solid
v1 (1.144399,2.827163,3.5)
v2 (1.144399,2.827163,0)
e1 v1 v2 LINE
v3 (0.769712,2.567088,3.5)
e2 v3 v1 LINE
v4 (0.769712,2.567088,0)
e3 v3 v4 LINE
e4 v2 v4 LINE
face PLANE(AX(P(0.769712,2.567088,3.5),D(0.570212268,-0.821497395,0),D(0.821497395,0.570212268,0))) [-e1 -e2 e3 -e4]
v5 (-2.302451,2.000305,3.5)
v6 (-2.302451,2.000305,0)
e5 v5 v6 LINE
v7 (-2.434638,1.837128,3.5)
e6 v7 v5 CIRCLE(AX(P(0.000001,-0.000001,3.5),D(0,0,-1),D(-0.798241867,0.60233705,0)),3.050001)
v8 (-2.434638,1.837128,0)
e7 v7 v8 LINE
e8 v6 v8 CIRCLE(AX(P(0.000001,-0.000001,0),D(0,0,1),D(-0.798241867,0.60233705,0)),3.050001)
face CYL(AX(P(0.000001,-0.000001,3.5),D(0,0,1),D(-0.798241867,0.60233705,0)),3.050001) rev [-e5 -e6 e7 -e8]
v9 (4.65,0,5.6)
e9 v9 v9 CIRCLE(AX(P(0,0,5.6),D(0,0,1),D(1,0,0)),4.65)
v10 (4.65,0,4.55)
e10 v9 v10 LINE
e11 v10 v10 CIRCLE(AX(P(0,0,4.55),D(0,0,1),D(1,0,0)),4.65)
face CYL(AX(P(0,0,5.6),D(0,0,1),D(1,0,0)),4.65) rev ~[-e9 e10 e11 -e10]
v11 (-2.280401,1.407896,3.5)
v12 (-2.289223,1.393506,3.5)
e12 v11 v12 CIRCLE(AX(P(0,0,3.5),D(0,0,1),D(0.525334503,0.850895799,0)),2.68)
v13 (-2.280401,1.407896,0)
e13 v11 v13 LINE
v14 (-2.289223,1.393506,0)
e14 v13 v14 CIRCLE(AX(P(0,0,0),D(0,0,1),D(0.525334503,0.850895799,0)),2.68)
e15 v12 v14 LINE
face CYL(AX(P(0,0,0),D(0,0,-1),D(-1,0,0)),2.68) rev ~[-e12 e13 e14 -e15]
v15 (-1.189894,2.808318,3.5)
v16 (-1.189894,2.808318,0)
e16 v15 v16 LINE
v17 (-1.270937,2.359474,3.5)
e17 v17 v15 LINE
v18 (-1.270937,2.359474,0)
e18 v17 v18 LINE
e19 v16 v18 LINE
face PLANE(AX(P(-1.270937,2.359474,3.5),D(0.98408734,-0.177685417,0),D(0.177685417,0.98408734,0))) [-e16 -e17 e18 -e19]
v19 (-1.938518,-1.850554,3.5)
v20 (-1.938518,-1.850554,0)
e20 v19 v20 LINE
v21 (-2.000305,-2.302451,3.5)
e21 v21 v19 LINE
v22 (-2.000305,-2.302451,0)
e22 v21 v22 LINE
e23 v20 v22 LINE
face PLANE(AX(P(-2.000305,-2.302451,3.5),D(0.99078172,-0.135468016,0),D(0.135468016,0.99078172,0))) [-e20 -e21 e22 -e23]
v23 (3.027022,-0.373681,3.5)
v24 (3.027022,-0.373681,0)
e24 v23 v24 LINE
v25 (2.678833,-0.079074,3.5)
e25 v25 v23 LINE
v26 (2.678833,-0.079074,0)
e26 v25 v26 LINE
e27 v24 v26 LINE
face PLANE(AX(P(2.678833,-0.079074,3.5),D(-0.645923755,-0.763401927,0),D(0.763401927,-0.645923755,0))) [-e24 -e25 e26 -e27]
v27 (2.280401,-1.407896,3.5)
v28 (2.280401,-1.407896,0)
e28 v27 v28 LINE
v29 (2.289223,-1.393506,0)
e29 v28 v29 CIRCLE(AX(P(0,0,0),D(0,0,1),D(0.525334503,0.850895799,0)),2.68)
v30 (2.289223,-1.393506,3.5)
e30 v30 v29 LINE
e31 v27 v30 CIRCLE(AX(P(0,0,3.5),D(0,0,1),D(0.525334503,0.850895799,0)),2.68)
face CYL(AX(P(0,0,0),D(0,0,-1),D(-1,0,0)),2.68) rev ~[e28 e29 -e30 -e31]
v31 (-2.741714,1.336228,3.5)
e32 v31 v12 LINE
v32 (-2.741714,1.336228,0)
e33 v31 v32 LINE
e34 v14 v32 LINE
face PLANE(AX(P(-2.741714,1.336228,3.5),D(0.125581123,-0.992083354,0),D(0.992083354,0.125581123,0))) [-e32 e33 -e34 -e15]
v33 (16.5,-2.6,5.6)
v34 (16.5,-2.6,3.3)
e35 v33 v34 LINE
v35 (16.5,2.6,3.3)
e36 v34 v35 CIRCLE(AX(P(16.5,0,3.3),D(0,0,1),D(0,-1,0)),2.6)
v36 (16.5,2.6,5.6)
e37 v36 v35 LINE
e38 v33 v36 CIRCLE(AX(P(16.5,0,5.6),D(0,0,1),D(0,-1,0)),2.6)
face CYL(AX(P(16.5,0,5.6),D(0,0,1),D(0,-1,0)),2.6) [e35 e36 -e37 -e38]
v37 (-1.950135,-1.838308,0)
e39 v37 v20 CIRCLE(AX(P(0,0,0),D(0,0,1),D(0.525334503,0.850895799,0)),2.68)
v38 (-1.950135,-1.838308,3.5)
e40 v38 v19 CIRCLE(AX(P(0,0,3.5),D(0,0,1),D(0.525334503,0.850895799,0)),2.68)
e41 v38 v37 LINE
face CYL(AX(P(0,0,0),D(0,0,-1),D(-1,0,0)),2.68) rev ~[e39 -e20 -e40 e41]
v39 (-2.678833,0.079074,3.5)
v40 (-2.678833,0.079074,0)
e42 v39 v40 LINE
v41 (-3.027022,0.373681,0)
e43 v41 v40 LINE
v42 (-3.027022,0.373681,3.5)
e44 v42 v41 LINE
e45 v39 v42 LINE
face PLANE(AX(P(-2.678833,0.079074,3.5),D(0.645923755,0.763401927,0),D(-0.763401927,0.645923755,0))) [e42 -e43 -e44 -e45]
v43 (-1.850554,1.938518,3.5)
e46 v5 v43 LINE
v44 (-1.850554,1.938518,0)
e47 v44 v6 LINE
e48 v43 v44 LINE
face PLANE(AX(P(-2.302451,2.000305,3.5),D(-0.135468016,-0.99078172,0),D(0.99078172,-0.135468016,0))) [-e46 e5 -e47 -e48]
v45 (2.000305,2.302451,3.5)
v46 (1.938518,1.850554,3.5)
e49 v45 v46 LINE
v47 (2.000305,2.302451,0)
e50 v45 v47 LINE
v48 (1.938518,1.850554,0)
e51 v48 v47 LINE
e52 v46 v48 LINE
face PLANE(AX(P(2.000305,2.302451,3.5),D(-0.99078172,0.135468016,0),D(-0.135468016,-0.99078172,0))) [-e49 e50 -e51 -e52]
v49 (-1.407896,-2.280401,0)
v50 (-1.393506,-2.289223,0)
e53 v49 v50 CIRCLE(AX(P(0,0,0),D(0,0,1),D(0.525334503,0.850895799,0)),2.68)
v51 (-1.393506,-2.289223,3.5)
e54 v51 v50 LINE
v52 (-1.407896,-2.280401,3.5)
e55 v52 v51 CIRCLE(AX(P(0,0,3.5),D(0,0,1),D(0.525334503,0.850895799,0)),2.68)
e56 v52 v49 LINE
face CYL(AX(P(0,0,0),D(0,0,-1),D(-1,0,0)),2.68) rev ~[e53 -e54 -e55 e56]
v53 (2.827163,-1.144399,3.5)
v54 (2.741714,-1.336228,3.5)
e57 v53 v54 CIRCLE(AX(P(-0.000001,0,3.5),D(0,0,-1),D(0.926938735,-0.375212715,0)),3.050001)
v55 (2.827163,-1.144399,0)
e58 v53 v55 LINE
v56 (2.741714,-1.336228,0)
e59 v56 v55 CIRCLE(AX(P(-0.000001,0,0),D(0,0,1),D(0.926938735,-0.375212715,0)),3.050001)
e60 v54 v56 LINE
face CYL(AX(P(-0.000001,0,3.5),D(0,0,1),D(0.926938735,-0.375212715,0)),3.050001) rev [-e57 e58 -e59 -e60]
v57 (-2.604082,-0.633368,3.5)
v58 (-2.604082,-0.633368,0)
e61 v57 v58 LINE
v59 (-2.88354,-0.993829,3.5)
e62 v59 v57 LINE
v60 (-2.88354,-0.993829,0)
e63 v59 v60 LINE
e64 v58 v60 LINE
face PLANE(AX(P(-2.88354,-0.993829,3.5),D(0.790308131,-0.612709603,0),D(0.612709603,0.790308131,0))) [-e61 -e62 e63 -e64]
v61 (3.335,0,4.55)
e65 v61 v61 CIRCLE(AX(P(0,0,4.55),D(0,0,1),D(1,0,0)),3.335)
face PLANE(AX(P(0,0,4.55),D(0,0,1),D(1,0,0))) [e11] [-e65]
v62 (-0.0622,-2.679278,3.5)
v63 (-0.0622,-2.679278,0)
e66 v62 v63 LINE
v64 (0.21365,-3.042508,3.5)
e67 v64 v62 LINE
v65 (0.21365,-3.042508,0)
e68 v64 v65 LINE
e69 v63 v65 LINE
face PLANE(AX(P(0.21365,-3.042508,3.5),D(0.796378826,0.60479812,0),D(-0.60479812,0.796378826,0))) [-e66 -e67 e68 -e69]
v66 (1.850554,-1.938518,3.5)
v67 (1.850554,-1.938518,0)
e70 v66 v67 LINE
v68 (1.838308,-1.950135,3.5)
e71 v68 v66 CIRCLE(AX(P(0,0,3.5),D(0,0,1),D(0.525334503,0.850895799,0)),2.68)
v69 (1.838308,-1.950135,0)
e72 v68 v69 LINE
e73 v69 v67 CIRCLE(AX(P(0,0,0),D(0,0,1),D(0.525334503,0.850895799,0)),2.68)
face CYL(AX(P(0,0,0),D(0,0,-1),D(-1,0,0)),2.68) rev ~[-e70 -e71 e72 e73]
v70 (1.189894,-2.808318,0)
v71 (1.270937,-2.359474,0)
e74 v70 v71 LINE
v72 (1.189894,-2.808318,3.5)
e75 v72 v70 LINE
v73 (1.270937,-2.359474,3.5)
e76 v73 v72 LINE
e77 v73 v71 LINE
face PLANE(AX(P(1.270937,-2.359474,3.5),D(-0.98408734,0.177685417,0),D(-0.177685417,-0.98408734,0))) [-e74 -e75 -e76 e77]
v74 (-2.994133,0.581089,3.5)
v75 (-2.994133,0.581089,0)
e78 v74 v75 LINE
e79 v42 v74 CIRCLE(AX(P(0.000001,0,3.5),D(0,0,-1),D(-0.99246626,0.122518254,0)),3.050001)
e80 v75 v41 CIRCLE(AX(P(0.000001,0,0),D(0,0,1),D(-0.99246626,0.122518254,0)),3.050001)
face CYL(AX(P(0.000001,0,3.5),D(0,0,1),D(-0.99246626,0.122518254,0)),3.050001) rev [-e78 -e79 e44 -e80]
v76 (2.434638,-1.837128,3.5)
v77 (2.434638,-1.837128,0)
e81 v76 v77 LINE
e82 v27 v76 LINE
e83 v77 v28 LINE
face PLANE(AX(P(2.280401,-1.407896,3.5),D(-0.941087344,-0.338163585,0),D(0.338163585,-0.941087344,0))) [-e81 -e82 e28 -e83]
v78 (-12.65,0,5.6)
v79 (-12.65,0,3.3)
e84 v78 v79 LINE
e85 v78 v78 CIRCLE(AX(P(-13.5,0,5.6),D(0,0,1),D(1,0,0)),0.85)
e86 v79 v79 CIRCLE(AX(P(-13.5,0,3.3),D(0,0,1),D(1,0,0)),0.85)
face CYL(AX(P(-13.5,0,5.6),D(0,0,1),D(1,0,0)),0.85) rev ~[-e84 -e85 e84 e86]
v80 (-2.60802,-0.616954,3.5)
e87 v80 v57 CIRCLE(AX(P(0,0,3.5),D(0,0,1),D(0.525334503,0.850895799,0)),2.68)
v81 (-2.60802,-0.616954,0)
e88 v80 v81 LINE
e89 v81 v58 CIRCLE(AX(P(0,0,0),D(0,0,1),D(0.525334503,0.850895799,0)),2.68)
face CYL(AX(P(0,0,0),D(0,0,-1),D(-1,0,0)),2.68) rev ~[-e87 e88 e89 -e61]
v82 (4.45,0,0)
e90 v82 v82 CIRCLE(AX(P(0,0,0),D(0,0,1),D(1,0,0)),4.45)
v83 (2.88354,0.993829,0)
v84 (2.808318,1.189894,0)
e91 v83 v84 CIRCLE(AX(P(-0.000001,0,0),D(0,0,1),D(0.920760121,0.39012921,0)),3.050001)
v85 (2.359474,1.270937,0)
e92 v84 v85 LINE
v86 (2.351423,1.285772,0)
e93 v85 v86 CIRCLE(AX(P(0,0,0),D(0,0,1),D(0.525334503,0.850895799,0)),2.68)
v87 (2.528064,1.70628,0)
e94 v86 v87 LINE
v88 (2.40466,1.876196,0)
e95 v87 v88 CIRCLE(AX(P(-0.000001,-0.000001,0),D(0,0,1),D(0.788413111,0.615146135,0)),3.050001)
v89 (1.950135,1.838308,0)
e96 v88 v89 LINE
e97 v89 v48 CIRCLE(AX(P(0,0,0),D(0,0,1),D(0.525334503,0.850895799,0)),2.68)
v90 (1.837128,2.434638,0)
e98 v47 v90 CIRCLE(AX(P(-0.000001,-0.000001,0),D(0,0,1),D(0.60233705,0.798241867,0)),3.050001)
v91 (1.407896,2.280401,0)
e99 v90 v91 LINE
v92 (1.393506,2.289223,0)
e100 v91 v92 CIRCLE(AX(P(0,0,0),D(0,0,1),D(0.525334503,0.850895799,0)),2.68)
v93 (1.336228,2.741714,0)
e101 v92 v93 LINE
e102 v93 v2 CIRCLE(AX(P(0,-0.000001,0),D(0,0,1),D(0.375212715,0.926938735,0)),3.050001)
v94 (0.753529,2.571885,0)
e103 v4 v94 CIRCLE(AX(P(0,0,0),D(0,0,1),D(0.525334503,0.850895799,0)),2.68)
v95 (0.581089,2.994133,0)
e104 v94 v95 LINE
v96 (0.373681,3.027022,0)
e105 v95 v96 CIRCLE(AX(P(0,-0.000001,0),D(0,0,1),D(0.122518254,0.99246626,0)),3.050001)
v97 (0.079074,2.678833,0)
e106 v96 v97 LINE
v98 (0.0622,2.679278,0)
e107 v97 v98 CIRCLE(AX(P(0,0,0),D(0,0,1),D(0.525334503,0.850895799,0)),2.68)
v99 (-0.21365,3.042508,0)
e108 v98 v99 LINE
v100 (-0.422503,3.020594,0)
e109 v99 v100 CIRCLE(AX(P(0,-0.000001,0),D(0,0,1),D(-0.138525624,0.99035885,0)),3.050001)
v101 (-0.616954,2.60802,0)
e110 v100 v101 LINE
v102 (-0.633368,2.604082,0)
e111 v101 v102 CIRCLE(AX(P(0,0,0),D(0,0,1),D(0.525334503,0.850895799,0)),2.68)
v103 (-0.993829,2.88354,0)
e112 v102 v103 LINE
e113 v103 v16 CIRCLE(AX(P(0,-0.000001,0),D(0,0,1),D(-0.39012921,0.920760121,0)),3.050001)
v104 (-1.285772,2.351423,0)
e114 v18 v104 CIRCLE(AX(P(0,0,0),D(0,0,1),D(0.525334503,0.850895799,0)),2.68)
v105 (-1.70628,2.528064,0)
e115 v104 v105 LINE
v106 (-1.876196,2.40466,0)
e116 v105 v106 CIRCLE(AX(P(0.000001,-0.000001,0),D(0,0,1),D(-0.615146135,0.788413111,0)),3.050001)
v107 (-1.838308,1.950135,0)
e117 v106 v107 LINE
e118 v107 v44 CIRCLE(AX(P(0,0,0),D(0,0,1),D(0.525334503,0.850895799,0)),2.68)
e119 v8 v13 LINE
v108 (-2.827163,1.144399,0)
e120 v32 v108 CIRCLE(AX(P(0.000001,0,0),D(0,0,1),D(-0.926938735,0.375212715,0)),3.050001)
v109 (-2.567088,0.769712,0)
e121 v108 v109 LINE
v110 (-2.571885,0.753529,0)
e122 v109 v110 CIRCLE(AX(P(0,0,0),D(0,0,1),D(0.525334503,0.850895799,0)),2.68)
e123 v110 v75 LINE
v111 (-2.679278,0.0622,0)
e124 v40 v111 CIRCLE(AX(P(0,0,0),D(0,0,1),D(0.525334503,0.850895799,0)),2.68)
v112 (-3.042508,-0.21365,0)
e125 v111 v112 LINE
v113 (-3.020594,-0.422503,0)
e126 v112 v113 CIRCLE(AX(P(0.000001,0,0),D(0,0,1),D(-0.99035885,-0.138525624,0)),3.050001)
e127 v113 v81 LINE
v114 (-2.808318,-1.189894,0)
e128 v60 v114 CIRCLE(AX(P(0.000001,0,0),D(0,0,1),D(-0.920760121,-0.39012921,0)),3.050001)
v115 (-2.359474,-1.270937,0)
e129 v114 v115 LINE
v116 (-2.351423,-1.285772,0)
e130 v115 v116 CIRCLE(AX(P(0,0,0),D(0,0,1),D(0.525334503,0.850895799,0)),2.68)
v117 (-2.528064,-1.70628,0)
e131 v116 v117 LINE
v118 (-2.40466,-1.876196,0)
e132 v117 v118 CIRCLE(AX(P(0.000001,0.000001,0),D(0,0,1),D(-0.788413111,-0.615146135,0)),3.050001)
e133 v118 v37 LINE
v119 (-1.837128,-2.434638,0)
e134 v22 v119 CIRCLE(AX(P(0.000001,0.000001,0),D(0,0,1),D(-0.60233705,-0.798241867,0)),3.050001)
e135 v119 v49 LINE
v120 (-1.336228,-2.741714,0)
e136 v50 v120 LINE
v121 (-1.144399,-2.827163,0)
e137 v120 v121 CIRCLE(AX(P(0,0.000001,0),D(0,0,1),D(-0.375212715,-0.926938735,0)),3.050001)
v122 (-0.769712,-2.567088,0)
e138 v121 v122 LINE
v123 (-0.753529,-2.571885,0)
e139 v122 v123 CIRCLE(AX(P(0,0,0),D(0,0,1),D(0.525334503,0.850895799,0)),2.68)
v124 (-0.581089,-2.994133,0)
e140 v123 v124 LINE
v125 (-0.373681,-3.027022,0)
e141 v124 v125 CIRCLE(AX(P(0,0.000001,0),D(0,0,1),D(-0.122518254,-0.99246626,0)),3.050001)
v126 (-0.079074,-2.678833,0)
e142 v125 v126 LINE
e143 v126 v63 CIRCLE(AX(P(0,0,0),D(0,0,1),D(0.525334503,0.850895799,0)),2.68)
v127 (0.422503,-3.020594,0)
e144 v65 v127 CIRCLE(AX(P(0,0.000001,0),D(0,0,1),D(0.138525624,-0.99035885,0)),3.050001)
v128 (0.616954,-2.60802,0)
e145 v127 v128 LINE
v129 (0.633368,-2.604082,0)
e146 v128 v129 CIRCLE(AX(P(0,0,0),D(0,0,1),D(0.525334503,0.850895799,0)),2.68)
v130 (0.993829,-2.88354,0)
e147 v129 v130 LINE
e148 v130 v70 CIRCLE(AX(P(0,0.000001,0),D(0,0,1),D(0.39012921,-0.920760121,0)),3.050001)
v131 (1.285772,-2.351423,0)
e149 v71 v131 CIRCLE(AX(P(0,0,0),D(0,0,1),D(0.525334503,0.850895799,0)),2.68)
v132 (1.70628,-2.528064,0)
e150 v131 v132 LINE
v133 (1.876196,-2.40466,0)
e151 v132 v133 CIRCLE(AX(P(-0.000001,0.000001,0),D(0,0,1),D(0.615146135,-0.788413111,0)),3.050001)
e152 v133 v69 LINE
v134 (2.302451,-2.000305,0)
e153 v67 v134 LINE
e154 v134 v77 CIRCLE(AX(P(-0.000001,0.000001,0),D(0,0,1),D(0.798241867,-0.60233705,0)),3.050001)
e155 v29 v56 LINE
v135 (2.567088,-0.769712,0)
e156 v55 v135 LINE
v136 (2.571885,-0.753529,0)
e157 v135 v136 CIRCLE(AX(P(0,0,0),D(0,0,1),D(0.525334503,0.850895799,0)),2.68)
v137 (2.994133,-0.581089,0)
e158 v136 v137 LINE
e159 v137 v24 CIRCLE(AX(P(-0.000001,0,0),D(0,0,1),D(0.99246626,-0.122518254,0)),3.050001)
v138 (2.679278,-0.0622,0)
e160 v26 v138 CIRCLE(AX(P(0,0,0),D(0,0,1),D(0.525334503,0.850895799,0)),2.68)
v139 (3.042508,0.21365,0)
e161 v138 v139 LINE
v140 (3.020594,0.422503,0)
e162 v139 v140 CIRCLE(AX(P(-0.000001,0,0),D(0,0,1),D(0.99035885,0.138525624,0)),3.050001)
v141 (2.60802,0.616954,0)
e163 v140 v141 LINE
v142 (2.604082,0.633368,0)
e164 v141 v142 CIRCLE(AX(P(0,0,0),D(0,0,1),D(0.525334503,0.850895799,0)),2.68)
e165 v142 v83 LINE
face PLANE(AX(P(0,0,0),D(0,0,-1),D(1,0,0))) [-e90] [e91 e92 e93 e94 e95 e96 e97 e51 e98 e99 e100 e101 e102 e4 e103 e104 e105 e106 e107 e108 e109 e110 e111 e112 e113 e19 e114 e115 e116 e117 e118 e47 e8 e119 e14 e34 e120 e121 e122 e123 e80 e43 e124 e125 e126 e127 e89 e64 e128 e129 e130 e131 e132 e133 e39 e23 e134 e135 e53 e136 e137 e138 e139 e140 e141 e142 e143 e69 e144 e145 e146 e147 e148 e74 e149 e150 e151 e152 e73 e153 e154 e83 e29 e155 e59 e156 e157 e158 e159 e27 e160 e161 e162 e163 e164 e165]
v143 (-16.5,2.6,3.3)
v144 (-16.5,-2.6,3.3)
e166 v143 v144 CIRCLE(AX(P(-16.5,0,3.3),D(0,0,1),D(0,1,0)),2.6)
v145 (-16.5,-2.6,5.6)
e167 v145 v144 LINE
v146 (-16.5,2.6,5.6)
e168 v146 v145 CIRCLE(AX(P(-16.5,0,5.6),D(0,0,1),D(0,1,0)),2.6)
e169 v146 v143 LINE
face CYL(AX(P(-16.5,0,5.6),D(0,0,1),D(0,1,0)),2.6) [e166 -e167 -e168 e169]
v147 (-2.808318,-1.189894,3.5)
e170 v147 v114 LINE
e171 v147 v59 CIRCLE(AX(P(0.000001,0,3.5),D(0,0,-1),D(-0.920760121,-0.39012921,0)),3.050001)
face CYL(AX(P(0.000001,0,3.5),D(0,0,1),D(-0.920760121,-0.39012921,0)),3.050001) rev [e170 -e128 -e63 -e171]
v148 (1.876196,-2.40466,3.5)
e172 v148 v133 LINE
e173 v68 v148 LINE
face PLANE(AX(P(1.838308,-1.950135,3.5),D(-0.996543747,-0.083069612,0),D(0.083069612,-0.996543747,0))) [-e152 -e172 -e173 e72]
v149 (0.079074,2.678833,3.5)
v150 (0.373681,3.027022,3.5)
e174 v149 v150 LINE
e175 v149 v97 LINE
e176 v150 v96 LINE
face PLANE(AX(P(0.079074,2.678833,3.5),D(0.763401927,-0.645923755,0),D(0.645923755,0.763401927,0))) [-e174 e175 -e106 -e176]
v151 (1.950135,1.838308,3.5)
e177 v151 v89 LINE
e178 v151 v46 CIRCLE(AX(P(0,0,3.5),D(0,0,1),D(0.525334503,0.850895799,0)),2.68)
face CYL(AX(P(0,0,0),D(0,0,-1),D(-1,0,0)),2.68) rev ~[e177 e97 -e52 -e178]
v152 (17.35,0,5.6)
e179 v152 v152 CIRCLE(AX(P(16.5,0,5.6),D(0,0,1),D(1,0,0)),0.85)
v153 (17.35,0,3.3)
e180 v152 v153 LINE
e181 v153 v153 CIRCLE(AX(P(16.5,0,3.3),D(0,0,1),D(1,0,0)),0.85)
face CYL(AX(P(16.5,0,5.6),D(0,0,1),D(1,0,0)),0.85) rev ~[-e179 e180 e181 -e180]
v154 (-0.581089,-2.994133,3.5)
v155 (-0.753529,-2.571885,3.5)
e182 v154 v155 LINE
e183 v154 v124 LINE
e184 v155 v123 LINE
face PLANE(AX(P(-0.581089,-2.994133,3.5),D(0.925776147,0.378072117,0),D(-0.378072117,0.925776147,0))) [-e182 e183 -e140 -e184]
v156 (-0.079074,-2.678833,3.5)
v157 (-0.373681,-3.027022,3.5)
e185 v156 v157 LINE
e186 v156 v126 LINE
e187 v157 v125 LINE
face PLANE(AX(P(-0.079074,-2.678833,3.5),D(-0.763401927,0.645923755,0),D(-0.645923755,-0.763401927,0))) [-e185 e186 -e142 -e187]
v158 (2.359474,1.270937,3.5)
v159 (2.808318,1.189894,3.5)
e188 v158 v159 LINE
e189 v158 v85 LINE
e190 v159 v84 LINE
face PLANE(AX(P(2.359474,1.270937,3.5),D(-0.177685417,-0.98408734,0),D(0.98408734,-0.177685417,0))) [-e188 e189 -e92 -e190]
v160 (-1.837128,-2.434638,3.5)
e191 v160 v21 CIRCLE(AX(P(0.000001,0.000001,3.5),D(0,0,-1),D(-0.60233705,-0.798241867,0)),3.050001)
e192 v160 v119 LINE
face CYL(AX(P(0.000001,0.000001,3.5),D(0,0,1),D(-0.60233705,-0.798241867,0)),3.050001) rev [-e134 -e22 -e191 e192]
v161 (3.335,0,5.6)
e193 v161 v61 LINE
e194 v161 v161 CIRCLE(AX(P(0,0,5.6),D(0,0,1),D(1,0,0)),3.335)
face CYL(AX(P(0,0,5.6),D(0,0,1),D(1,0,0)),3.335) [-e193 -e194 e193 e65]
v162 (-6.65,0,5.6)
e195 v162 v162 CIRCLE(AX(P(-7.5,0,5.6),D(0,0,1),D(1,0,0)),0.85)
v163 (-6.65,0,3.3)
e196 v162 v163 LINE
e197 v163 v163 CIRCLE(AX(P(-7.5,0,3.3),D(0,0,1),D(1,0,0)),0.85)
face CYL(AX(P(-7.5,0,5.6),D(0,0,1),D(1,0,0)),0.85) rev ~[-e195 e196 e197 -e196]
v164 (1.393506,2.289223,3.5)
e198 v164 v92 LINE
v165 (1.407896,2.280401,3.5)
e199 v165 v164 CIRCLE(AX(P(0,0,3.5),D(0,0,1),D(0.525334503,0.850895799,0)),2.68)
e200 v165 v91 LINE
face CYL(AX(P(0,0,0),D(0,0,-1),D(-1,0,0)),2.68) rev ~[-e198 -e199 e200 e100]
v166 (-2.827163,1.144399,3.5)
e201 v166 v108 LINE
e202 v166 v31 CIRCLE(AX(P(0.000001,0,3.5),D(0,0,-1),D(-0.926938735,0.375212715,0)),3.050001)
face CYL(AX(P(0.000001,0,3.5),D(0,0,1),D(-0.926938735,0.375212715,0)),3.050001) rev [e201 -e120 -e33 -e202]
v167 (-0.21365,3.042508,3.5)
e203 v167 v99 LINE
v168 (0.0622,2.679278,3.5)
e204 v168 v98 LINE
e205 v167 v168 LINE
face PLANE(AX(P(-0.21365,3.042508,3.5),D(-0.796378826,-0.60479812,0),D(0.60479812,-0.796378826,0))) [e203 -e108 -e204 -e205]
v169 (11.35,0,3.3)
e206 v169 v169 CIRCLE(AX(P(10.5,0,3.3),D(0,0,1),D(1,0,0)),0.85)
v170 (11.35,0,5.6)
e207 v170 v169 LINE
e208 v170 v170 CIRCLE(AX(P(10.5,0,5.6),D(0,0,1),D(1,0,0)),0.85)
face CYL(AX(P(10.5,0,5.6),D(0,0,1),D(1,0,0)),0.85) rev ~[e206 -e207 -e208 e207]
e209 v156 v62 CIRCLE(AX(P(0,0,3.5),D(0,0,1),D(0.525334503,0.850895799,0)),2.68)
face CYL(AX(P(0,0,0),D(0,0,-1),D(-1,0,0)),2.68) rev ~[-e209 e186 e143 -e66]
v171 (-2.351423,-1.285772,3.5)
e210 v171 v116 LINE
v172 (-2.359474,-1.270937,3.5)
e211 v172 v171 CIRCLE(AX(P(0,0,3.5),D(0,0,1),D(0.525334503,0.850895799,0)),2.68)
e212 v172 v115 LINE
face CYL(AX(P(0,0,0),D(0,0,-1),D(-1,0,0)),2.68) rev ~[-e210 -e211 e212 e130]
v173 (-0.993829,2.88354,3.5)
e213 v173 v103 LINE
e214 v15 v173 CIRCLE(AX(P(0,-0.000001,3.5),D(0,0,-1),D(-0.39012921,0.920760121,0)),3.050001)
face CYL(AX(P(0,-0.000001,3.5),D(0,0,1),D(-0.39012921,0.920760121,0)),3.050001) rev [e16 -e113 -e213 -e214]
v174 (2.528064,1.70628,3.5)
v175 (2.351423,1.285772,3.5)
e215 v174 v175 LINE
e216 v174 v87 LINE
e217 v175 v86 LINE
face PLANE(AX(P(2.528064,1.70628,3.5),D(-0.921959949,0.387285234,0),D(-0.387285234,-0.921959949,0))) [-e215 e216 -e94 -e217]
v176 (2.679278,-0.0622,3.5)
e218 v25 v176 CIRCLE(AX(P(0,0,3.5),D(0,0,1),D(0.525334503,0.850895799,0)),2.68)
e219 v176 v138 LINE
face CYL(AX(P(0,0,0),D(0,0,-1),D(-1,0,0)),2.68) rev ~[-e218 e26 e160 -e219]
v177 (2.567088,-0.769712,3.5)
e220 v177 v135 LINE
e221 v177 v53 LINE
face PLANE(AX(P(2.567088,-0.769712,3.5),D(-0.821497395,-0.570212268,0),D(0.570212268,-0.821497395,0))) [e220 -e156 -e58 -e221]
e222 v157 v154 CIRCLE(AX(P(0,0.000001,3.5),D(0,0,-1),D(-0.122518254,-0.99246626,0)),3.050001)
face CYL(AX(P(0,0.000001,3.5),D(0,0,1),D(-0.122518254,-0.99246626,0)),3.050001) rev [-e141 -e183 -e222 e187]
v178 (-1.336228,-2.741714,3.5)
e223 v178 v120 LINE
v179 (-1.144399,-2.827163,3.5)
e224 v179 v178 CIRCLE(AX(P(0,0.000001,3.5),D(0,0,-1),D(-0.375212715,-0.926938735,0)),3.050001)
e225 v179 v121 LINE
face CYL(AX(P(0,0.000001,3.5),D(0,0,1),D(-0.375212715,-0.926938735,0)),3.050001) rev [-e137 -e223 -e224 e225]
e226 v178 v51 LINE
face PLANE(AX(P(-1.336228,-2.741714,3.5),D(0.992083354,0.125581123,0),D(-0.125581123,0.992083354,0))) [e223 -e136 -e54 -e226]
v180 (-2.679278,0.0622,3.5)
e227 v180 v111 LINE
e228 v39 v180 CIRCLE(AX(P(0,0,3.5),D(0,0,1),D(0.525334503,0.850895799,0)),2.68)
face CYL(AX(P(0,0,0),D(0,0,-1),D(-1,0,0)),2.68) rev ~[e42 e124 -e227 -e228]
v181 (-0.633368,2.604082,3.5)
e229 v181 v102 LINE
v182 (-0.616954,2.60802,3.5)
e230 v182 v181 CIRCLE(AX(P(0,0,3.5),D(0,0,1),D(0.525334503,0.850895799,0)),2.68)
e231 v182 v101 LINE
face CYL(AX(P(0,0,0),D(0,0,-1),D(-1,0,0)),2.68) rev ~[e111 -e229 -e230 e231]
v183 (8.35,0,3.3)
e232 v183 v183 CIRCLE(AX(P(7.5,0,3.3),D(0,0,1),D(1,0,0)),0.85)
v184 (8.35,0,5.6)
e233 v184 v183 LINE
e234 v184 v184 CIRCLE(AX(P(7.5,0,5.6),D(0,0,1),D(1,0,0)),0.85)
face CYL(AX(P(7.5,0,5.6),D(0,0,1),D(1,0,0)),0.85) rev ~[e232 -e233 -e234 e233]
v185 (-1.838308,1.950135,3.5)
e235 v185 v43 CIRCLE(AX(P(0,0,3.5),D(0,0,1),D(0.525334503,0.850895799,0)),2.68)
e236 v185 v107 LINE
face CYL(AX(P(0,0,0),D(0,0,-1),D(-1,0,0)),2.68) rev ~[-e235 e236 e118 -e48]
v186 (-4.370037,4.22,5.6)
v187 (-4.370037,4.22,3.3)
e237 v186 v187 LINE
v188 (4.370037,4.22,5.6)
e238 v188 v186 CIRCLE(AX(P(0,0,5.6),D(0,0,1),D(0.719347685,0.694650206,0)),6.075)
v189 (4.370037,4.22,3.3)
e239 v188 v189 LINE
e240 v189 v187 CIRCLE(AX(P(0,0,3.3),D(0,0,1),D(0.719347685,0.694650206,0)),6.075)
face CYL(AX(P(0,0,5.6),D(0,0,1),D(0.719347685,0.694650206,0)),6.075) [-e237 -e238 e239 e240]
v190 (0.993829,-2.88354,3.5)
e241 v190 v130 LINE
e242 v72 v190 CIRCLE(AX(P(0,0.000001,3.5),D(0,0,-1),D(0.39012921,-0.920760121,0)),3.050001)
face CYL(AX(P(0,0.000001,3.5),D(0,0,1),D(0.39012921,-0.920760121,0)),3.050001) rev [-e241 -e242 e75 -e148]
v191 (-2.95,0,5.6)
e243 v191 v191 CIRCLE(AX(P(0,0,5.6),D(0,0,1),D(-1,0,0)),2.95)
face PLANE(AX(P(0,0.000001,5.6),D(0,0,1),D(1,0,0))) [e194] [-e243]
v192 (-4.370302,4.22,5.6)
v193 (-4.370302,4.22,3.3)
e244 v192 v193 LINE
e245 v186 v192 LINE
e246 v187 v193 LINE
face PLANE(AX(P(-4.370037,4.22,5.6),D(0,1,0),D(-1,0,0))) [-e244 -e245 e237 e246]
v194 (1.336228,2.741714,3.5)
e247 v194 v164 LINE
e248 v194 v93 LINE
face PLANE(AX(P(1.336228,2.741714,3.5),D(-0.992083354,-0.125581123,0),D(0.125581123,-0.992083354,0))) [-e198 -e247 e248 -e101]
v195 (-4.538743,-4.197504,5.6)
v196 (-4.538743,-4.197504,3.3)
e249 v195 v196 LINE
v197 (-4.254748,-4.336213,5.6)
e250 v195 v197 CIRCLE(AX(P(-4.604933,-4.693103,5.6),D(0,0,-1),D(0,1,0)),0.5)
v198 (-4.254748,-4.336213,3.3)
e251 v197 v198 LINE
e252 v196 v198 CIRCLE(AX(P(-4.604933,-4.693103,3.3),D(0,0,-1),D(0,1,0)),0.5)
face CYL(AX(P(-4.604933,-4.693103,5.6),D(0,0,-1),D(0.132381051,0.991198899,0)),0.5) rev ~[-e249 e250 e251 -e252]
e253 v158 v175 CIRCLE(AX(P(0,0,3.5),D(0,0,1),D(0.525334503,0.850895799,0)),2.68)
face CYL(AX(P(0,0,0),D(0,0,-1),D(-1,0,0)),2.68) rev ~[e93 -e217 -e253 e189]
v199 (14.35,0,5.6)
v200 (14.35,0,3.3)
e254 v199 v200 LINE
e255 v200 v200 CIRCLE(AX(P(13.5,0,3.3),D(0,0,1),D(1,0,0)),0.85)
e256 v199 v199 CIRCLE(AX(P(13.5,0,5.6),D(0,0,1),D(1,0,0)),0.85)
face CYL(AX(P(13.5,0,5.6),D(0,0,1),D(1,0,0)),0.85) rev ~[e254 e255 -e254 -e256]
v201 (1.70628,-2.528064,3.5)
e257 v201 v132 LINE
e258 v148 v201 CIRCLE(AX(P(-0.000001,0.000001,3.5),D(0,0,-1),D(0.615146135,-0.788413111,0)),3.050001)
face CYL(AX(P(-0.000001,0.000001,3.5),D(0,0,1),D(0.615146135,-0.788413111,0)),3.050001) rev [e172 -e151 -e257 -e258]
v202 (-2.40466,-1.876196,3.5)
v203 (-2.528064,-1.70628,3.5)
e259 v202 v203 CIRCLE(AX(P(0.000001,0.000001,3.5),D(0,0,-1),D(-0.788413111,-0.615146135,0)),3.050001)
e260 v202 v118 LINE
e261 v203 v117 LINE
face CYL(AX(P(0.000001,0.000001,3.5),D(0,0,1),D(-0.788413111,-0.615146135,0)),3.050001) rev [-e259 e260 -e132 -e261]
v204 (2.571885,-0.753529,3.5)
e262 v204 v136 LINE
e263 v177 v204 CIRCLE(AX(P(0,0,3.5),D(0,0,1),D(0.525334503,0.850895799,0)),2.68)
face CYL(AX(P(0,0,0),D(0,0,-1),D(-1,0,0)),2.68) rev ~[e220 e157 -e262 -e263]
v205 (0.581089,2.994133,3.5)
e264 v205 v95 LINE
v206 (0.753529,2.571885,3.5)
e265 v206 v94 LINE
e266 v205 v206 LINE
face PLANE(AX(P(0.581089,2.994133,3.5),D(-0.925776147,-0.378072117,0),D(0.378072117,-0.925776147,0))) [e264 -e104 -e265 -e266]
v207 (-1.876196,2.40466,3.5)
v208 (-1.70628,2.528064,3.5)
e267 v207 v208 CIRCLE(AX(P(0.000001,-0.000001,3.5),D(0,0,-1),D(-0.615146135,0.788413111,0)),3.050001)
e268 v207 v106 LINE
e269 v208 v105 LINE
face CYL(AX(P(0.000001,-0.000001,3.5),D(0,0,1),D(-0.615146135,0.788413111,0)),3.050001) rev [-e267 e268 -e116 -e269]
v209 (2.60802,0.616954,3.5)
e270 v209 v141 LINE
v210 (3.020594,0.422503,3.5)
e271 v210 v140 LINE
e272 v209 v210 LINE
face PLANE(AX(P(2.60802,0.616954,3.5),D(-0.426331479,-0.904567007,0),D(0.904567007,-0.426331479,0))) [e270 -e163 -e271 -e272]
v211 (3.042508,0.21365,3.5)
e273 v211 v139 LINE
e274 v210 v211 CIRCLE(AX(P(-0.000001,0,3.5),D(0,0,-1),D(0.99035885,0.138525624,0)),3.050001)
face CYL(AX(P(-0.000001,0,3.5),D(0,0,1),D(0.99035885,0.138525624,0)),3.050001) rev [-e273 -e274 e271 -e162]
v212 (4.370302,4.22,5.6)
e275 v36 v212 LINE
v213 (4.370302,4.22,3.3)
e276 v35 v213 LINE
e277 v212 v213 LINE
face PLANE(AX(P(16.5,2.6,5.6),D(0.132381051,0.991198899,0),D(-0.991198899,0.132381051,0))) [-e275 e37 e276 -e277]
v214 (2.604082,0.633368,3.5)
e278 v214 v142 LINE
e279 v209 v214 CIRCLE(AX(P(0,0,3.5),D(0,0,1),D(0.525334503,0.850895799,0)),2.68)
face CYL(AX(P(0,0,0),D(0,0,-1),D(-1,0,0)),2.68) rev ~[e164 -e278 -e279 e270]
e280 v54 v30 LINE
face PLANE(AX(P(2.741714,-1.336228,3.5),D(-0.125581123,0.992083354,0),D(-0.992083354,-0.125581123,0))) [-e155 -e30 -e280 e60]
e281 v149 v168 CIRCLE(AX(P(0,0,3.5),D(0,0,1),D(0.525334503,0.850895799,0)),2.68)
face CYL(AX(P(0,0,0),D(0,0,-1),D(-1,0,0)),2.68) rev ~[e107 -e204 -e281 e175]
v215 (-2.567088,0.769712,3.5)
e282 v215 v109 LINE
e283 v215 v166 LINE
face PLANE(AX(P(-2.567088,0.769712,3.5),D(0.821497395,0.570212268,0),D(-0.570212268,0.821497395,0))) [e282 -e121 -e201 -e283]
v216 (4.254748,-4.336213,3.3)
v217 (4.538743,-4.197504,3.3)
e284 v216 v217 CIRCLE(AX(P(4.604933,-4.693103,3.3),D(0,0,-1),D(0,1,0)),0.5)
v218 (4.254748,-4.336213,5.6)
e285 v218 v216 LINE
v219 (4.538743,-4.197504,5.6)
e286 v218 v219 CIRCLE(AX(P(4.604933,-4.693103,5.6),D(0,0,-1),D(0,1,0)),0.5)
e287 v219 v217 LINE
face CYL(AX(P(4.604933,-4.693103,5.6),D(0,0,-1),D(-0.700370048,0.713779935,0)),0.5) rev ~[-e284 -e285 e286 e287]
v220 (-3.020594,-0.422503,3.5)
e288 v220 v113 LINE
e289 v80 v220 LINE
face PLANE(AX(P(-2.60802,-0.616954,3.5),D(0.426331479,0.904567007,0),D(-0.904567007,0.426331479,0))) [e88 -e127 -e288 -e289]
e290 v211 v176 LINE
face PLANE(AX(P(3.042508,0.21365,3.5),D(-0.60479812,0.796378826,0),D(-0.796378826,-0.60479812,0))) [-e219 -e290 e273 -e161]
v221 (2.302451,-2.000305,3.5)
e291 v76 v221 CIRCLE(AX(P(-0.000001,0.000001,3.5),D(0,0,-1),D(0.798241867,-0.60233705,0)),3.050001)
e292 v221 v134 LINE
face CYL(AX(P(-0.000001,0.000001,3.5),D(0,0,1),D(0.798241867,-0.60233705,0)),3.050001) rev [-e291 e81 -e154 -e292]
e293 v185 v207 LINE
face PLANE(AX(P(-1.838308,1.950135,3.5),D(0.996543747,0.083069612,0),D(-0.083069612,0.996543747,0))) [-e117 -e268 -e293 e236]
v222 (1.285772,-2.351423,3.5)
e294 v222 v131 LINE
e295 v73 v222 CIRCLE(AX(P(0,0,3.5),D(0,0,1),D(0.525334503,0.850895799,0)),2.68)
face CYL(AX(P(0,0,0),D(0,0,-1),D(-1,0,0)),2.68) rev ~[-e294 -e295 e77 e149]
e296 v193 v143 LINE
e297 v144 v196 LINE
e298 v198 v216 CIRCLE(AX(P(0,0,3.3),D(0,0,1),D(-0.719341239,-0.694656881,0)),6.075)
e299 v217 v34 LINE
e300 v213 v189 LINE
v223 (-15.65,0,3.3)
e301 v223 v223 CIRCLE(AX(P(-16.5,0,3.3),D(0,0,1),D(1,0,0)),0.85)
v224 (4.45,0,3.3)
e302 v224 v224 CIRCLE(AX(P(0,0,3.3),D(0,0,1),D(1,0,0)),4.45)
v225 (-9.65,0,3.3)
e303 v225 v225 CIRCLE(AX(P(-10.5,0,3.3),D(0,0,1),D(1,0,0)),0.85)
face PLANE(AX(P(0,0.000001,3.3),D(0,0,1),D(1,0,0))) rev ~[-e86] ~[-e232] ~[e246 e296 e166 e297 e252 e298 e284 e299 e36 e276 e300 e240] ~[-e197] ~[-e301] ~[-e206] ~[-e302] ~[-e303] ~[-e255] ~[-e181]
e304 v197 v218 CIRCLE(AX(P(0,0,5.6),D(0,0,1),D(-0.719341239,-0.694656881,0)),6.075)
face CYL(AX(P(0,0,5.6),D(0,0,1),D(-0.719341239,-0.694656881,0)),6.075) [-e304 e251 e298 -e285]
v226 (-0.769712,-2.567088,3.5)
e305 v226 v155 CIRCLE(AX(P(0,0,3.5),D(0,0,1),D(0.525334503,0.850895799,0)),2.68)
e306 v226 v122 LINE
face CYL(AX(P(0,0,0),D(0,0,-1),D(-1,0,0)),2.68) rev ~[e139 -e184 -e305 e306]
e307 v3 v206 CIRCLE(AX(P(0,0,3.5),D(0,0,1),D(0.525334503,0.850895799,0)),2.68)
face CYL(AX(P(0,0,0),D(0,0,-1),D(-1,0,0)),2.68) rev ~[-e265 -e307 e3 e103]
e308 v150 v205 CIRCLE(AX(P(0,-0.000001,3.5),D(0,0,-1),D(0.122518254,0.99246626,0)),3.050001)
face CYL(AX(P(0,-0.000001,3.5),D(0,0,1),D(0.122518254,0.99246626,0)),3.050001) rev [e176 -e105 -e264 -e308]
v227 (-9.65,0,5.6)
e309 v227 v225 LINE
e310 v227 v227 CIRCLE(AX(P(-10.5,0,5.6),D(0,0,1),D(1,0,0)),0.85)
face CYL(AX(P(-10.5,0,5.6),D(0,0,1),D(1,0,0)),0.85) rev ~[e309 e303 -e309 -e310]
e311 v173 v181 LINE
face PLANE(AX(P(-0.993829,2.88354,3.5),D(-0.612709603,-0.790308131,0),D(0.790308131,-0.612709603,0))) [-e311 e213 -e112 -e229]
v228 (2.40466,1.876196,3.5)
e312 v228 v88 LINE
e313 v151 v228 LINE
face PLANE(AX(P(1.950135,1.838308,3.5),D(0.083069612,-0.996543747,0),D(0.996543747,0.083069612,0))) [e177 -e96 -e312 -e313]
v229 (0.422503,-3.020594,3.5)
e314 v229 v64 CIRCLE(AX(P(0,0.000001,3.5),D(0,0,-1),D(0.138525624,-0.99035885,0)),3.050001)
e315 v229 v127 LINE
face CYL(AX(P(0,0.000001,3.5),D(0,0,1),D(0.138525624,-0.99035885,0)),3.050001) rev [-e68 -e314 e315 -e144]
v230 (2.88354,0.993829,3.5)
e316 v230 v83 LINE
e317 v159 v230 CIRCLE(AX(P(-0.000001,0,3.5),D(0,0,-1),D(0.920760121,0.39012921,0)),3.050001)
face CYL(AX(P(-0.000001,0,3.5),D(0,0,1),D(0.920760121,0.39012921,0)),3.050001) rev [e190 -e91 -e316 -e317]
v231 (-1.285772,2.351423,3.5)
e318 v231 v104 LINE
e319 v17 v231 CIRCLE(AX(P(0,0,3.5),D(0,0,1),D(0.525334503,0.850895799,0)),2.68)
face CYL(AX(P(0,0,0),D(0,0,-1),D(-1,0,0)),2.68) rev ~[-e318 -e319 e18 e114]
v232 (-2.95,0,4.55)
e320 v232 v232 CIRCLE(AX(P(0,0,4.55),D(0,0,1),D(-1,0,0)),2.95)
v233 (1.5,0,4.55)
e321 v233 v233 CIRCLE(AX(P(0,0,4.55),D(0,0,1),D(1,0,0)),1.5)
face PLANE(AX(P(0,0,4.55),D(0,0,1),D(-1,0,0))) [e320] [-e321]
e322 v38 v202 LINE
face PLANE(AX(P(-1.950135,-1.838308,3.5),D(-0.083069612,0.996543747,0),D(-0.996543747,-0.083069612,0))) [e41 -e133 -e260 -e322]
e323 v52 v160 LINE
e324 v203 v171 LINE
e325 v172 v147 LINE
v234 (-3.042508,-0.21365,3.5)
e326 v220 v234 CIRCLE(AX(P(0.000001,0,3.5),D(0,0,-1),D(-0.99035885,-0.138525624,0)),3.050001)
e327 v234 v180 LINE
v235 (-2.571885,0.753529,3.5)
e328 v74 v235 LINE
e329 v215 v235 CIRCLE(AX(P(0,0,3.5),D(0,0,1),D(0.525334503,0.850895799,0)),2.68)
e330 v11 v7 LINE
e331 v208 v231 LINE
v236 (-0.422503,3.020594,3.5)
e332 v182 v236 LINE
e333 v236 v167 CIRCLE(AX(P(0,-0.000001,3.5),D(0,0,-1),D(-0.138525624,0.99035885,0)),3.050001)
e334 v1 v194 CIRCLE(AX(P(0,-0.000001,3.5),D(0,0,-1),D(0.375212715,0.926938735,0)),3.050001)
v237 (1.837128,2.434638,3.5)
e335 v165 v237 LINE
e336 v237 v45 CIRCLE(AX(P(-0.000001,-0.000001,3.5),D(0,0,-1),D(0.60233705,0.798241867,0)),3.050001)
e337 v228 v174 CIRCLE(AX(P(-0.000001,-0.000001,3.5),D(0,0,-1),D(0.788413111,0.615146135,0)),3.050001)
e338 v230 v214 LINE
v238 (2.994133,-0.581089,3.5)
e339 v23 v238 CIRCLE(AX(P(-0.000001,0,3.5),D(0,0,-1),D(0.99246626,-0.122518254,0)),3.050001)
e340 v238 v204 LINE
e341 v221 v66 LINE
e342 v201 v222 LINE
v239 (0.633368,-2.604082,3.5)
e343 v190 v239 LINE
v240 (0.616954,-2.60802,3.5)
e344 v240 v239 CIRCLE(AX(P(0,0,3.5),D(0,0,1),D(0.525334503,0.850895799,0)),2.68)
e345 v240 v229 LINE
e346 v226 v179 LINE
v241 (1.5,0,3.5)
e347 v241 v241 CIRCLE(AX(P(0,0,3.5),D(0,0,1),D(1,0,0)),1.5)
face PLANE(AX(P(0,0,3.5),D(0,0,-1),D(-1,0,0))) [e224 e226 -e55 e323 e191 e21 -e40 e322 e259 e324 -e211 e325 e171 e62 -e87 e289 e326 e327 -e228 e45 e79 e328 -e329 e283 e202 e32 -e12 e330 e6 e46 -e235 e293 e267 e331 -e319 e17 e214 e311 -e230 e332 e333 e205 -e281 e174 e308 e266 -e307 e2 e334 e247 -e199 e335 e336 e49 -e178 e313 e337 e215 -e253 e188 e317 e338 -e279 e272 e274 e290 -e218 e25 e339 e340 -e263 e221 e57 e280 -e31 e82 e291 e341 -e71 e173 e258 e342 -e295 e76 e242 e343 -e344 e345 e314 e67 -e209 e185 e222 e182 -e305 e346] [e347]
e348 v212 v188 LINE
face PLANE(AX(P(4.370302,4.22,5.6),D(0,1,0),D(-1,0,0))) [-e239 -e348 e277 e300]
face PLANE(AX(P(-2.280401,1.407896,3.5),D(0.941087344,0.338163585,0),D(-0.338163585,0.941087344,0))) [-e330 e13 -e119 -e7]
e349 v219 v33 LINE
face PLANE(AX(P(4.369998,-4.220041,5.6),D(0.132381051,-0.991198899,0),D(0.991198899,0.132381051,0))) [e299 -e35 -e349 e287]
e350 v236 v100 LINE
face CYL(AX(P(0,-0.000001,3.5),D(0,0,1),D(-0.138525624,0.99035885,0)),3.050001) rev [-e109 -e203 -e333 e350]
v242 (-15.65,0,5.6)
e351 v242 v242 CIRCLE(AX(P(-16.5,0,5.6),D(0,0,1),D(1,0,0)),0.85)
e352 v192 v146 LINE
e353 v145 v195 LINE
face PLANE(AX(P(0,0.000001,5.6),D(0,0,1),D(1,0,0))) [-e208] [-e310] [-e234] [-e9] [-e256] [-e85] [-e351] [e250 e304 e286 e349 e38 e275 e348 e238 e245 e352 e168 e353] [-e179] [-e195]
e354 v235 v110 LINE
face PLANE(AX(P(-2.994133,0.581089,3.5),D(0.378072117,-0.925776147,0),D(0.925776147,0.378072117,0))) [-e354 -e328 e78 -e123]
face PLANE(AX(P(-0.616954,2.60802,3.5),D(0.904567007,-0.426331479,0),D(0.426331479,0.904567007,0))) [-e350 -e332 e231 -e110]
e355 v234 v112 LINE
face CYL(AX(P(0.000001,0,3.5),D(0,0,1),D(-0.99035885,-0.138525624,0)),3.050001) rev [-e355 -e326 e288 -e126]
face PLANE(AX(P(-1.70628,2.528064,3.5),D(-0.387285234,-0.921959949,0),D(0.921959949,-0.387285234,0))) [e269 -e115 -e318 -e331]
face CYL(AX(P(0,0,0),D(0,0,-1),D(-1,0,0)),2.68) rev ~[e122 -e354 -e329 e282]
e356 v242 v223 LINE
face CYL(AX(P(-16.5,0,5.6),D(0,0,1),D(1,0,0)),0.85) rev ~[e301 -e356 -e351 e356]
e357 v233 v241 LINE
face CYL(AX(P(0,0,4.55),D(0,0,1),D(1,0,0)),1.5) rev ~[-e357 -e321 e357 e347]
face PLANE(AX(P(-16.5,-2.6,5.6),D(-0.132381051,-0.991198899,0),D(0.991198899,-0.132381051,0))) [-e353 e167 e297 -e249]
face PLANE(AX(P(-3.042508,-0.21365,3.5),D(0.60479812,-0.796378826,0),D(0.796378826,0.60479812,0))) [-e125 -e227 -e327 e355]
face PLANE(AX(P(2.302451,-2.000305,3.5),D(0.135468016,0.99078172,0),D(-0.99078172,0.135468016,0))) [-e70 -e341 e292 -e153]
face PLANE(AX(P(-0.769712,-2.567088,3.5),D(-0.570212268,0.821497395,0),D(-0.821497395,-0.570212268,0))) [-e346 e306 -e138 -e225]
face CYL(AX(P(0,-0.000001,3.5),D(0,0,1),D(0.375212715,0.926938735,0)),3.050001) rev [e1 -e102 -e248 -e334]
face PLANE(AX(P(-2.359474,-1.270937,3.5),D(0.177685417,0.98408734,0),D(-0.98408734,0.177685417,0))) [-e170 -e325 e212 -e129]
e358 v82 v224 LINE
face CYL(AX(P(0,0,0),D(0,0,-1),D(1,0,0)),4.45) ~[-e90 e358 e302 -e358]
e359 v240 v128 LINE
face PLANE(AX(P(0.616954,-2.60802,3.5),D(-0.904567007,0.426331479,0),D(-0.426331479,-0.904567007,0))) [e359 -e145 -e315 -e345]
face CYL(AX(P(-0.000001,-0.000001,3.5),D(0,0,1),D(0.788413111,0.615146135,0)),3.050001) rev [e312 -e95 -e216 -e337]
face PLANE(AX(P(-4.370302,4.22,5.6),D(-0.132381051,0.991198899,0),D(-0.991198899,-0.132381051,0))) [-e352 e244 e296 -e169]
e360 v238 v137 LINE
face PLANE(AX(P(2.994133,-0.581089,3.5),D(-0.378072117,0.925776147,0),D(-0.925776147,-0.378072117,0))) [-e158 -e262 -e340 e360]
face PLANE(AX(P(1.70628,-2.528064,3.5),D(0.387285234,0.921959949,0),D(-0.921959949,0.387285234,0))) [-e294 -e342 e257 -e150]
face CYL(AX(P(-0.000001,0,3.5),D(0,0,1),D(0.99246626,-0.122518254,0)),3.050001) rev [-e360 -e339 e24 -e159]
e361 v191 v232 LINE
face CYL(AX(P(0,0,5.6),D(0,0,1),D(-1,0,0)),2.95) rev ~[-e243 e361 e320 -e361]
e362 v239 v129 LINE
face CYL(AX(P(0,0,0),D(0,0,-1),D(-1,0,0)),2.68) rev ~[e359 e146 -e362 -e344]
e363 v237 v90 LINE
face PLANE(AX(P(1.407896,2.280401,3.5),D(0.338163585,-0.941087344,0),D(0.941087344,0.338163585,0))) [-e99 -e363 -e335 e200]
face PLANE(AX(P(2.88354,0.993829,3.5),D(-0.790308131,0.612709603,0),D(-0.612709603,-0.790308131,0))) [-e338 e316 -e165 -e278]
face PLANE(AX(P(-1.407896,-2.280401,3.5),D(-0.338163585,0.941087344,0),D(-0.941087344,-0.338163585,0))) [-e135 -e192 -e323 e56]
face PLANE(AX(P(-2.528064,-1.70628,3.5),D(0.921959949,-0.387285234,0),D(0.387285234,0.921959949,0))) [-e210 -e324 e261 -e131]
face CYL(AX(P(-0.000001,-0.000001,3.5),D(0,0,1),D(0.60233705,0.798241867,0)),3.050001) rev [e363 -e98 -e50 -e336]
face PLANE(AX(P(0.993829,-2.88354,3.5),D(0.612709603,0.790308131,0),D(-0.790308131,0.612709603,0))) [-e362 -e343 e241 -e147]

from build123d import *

# Parameters (mm, degrees)
IZIM1_R                     = 4.45
Y_KSEKLIK_EKSTR_ZYON1_DEPTH = 5.6
IZIM2_R                     = 0.85
IZIM2_R_2                   = 4.45
Y_KSEKLIK_EKSTR_ZYON3_DEPTH = 2.3
RADYUS1_R                   = 0.5
IZIM3_R                     = 2.95
KES_EKSTR_ZYON1_DEPTH       = 1.05
IZIM7_R                     = 4.65
IZIM7_R_2                   = 3.335
KES_EKSTR_ZYON3_DEPTH       = 1.05
IZIM8_R                     = 2.95
KES_EKSTR_ZYON5_DEPTH       = 1.05
IZIM9_R                     = 2.95
Y_KSEKLIK_EKSTR_ZYON4_DEPTH = 1.05
IZIM10_R                    = 1.5
KES_EKSTR_ZYON6_DEPTH       = 8.05
IZIM11_R                    = 2.68
KES_EKSTR_ZYON7_DEPTH       = 3.5
KES_EKSTR_ZYON10_DEPTH      = 12.5
DAIRESEL_KAPLAMA1_COUNT     = 24


with BuildPart() as part:
    # Çizim1 → Yükseklik-Ekstrüzyon1 (new body)
    with BuildSketch(Plane.XY):
        Circle(IZIM1_R)
    extrude(amount=Y_KSEKLIK_EKSTR_ZYON1_DEPTH)

    # Çizim2 → Yükseklik-Ekstrüzyon3 (add)
    with BuildSketch(Plane.XY.offset(5.6)):
        with BuildLine():
            Line((-4.370037185, 4.22), (-4.370301647, 4.22))
            Line((-4.370301647, 4.22), (-16.5, 2.6))
            ThreePointArc((-16.5, 2.6), (-19.1, 0), (-16.5, -2.6))
            Line((-16.5, -2.6), (-4.369998027, -4.22004055))
            ThreePointArc((-4.369998027, -4.22004055), (0, -6.075), (4.369998027, -4.22004055))
            Line((4.369998027, -4.22004055), (16.5, -2.6))
            ThreePointArc((16.5, -2.6), (19.1, 0), (16.5, 2.6))
            Line((16.5, 2.6), (4.370301647, 4.22))
            Line((4.370301647, 4.22), (4.370037185, 4.22))
            ThreePointArc((4.370037185, 4.22), (0, 6.075), (-4.370037185, 4.22))
        make_face()
        with Locations((-16.5, 0)):
            Circle(IZIM2_R, mode=Mode.SUBTRACT)
        with Locations((-13.5, 0)):
            Circle(IZIM2_R, mode=Mode.SUBTRACT)
        with Locations((-10.5, 0)):
            Circle(IZIM2_R, mode=Mode.SUBTRACT)
        with Locations((-7.5, 0)):
            Circle(IZIM2_R, mode=Mode.SUBTRACT)
        Circle(IZIM2_R_2, mode=Mode.SUBTRACT)
        with Locations((7.5, 0)):
            Circle(IZIM2_R, mode=Mode.SUBTRACT)
        with Locations((10.5, 0)):
            Circle(IZIM2_R, mode=Mode.SUBTRACT)
        with Locations((13.5, 0)):
            Circle(IZIM2_R, mode=Mode.SUBTRACT)
        with Locations((16.5, 0)):
            Circle(IZIM2_R, mode=Mode.SUBTRACT)
    extrude(amount=-Y_KSEKLIK_EKSTR_ZYON3_DEPTH)

    # Radyus1
    radyus1_edges = [part.edges().sort_by_distance(p)[0] for p in [
        (-4.369998027, -4.22004055, 4.45),
        (4.369998027, -4.22004055, 4.45),
    ]]
    fillet(radyus1_edges, radius=RADYUS1_R)

    # Çizim3 → Kes-Ekstrüzyon1 (cut)
    with BuildSketch(Plane(origin=(0, 0, 0), x_dir=(-1, 0, 0), z_dir=(0, 0, -1))):
        Circle(IZIM3_R)
    extrude(amount=-KES_EKSTR_ZYON1_DEPTH, mode=Mode.SUBTRACT)

    # Çizim7 → Kes-Ekstrüzyon3 (cut)
    with BuildSketch(Plane.XY.offset(5.6)):
        Circle(IZIM7_R)
        Circle(IZIM7_R_2, mode=Mode.SUBTRACT)
    extrude(amount=-KES_EKSTR_ZYON3_DEPTH, mode=Mode.SUBTRACT)

    # Çizim8 → Kes-Ekstrüzyon5 (cut)
    with BuildSketch(Plane.XY.offset(5.6)):
        with Locations(Location((0, 0, 0), (0, 0, 180))):
            Circle(IZIM8_R)
    extrude(amount=-KES_EKSTR_ZYON5_DEPTH, mode=Mode.SUBTRACT)

    # Çizim9 → Yükseklik-Ekstrüzyon4 (add)
    with BuildSketch(Plane(origin=(0, 0, 1.05), x_dir=(-1, 0, 0), z_dir=(0, 0, -1))):
        with Locations(Location((0, 0, 0), (0, 0, 180))):
            Circle(IZIM9_R)
    extrude(amount=Y_KSEKLIK_EKSTR_ZYON4_DEPTH)

    # Çizim10 → Kes-Ekstrüzyon6 (cut)
    with BuildSketch(Plane.XY.offset(4.55)):
        Circle(IZIM10_R)
    extrude(amount=-KES_EKSTR_ZYON6_DEPTH, mode=Mode.SUBTRACT)

    # Çizim11 → Kes-Ekstrüzyon7 (cut)
    with BuildSketch(Plane(origin=(0, 0, 0), x_dir=(-1, 0, 0), z_dir=(0, 0, -1))):
        Circle(IZIM11_R)
    extrude(amount=-KES_EKSTR_ZYON7_DEPTH, mode=Mode.SUBTRACT)

    # Çizim12 → Kes-Ekstrüzyon10 (cut)
    with BuildSketch(Plane(origin=(0, 0, 3.5), x_dir=(-1, 0, 0), z_dir=(0, 0, -1))):
        with BuildLine():
            Line((-2.000304803, 2.302451019), (-1.938517615, 1.850553824))
            ThreePointArc((-1.938517615, 1.850553824), (-1.686954029, 2.082447143), (-1.407896467, 2.280400741))
            Line((-1.407896467, 2.280400741), (-1.837127974, 2.434637716))
            ThreePointArc((-1.837127974, 2.434637716), (-1.919854398, 2.369949174), (-2.000304803, 2.302451019))
        make_face()
    kes_ekstr_zyon10 = extrude(amount=KES_EKSTR_ZYON10_DEPTH, mode=Mode.SUBTRACT)

    # Dairesel Kaplama1: Kes-Ekstrüzyon10 ×24 about axis
    dairesel_kaplama1_axis = Axis((0, 0, 0), (0, 0, 1))
    for i in range(1, DAIRESEL_KAPLAMA1_COUNT):
        add(kes_ekstr_zyon10.rotate(dairesel_kaplama1_axis, i * 360 / DAIRESEL_KAPLAMA1_COUNT), mode=Mode.SUBTRACT)


solid = part.part
